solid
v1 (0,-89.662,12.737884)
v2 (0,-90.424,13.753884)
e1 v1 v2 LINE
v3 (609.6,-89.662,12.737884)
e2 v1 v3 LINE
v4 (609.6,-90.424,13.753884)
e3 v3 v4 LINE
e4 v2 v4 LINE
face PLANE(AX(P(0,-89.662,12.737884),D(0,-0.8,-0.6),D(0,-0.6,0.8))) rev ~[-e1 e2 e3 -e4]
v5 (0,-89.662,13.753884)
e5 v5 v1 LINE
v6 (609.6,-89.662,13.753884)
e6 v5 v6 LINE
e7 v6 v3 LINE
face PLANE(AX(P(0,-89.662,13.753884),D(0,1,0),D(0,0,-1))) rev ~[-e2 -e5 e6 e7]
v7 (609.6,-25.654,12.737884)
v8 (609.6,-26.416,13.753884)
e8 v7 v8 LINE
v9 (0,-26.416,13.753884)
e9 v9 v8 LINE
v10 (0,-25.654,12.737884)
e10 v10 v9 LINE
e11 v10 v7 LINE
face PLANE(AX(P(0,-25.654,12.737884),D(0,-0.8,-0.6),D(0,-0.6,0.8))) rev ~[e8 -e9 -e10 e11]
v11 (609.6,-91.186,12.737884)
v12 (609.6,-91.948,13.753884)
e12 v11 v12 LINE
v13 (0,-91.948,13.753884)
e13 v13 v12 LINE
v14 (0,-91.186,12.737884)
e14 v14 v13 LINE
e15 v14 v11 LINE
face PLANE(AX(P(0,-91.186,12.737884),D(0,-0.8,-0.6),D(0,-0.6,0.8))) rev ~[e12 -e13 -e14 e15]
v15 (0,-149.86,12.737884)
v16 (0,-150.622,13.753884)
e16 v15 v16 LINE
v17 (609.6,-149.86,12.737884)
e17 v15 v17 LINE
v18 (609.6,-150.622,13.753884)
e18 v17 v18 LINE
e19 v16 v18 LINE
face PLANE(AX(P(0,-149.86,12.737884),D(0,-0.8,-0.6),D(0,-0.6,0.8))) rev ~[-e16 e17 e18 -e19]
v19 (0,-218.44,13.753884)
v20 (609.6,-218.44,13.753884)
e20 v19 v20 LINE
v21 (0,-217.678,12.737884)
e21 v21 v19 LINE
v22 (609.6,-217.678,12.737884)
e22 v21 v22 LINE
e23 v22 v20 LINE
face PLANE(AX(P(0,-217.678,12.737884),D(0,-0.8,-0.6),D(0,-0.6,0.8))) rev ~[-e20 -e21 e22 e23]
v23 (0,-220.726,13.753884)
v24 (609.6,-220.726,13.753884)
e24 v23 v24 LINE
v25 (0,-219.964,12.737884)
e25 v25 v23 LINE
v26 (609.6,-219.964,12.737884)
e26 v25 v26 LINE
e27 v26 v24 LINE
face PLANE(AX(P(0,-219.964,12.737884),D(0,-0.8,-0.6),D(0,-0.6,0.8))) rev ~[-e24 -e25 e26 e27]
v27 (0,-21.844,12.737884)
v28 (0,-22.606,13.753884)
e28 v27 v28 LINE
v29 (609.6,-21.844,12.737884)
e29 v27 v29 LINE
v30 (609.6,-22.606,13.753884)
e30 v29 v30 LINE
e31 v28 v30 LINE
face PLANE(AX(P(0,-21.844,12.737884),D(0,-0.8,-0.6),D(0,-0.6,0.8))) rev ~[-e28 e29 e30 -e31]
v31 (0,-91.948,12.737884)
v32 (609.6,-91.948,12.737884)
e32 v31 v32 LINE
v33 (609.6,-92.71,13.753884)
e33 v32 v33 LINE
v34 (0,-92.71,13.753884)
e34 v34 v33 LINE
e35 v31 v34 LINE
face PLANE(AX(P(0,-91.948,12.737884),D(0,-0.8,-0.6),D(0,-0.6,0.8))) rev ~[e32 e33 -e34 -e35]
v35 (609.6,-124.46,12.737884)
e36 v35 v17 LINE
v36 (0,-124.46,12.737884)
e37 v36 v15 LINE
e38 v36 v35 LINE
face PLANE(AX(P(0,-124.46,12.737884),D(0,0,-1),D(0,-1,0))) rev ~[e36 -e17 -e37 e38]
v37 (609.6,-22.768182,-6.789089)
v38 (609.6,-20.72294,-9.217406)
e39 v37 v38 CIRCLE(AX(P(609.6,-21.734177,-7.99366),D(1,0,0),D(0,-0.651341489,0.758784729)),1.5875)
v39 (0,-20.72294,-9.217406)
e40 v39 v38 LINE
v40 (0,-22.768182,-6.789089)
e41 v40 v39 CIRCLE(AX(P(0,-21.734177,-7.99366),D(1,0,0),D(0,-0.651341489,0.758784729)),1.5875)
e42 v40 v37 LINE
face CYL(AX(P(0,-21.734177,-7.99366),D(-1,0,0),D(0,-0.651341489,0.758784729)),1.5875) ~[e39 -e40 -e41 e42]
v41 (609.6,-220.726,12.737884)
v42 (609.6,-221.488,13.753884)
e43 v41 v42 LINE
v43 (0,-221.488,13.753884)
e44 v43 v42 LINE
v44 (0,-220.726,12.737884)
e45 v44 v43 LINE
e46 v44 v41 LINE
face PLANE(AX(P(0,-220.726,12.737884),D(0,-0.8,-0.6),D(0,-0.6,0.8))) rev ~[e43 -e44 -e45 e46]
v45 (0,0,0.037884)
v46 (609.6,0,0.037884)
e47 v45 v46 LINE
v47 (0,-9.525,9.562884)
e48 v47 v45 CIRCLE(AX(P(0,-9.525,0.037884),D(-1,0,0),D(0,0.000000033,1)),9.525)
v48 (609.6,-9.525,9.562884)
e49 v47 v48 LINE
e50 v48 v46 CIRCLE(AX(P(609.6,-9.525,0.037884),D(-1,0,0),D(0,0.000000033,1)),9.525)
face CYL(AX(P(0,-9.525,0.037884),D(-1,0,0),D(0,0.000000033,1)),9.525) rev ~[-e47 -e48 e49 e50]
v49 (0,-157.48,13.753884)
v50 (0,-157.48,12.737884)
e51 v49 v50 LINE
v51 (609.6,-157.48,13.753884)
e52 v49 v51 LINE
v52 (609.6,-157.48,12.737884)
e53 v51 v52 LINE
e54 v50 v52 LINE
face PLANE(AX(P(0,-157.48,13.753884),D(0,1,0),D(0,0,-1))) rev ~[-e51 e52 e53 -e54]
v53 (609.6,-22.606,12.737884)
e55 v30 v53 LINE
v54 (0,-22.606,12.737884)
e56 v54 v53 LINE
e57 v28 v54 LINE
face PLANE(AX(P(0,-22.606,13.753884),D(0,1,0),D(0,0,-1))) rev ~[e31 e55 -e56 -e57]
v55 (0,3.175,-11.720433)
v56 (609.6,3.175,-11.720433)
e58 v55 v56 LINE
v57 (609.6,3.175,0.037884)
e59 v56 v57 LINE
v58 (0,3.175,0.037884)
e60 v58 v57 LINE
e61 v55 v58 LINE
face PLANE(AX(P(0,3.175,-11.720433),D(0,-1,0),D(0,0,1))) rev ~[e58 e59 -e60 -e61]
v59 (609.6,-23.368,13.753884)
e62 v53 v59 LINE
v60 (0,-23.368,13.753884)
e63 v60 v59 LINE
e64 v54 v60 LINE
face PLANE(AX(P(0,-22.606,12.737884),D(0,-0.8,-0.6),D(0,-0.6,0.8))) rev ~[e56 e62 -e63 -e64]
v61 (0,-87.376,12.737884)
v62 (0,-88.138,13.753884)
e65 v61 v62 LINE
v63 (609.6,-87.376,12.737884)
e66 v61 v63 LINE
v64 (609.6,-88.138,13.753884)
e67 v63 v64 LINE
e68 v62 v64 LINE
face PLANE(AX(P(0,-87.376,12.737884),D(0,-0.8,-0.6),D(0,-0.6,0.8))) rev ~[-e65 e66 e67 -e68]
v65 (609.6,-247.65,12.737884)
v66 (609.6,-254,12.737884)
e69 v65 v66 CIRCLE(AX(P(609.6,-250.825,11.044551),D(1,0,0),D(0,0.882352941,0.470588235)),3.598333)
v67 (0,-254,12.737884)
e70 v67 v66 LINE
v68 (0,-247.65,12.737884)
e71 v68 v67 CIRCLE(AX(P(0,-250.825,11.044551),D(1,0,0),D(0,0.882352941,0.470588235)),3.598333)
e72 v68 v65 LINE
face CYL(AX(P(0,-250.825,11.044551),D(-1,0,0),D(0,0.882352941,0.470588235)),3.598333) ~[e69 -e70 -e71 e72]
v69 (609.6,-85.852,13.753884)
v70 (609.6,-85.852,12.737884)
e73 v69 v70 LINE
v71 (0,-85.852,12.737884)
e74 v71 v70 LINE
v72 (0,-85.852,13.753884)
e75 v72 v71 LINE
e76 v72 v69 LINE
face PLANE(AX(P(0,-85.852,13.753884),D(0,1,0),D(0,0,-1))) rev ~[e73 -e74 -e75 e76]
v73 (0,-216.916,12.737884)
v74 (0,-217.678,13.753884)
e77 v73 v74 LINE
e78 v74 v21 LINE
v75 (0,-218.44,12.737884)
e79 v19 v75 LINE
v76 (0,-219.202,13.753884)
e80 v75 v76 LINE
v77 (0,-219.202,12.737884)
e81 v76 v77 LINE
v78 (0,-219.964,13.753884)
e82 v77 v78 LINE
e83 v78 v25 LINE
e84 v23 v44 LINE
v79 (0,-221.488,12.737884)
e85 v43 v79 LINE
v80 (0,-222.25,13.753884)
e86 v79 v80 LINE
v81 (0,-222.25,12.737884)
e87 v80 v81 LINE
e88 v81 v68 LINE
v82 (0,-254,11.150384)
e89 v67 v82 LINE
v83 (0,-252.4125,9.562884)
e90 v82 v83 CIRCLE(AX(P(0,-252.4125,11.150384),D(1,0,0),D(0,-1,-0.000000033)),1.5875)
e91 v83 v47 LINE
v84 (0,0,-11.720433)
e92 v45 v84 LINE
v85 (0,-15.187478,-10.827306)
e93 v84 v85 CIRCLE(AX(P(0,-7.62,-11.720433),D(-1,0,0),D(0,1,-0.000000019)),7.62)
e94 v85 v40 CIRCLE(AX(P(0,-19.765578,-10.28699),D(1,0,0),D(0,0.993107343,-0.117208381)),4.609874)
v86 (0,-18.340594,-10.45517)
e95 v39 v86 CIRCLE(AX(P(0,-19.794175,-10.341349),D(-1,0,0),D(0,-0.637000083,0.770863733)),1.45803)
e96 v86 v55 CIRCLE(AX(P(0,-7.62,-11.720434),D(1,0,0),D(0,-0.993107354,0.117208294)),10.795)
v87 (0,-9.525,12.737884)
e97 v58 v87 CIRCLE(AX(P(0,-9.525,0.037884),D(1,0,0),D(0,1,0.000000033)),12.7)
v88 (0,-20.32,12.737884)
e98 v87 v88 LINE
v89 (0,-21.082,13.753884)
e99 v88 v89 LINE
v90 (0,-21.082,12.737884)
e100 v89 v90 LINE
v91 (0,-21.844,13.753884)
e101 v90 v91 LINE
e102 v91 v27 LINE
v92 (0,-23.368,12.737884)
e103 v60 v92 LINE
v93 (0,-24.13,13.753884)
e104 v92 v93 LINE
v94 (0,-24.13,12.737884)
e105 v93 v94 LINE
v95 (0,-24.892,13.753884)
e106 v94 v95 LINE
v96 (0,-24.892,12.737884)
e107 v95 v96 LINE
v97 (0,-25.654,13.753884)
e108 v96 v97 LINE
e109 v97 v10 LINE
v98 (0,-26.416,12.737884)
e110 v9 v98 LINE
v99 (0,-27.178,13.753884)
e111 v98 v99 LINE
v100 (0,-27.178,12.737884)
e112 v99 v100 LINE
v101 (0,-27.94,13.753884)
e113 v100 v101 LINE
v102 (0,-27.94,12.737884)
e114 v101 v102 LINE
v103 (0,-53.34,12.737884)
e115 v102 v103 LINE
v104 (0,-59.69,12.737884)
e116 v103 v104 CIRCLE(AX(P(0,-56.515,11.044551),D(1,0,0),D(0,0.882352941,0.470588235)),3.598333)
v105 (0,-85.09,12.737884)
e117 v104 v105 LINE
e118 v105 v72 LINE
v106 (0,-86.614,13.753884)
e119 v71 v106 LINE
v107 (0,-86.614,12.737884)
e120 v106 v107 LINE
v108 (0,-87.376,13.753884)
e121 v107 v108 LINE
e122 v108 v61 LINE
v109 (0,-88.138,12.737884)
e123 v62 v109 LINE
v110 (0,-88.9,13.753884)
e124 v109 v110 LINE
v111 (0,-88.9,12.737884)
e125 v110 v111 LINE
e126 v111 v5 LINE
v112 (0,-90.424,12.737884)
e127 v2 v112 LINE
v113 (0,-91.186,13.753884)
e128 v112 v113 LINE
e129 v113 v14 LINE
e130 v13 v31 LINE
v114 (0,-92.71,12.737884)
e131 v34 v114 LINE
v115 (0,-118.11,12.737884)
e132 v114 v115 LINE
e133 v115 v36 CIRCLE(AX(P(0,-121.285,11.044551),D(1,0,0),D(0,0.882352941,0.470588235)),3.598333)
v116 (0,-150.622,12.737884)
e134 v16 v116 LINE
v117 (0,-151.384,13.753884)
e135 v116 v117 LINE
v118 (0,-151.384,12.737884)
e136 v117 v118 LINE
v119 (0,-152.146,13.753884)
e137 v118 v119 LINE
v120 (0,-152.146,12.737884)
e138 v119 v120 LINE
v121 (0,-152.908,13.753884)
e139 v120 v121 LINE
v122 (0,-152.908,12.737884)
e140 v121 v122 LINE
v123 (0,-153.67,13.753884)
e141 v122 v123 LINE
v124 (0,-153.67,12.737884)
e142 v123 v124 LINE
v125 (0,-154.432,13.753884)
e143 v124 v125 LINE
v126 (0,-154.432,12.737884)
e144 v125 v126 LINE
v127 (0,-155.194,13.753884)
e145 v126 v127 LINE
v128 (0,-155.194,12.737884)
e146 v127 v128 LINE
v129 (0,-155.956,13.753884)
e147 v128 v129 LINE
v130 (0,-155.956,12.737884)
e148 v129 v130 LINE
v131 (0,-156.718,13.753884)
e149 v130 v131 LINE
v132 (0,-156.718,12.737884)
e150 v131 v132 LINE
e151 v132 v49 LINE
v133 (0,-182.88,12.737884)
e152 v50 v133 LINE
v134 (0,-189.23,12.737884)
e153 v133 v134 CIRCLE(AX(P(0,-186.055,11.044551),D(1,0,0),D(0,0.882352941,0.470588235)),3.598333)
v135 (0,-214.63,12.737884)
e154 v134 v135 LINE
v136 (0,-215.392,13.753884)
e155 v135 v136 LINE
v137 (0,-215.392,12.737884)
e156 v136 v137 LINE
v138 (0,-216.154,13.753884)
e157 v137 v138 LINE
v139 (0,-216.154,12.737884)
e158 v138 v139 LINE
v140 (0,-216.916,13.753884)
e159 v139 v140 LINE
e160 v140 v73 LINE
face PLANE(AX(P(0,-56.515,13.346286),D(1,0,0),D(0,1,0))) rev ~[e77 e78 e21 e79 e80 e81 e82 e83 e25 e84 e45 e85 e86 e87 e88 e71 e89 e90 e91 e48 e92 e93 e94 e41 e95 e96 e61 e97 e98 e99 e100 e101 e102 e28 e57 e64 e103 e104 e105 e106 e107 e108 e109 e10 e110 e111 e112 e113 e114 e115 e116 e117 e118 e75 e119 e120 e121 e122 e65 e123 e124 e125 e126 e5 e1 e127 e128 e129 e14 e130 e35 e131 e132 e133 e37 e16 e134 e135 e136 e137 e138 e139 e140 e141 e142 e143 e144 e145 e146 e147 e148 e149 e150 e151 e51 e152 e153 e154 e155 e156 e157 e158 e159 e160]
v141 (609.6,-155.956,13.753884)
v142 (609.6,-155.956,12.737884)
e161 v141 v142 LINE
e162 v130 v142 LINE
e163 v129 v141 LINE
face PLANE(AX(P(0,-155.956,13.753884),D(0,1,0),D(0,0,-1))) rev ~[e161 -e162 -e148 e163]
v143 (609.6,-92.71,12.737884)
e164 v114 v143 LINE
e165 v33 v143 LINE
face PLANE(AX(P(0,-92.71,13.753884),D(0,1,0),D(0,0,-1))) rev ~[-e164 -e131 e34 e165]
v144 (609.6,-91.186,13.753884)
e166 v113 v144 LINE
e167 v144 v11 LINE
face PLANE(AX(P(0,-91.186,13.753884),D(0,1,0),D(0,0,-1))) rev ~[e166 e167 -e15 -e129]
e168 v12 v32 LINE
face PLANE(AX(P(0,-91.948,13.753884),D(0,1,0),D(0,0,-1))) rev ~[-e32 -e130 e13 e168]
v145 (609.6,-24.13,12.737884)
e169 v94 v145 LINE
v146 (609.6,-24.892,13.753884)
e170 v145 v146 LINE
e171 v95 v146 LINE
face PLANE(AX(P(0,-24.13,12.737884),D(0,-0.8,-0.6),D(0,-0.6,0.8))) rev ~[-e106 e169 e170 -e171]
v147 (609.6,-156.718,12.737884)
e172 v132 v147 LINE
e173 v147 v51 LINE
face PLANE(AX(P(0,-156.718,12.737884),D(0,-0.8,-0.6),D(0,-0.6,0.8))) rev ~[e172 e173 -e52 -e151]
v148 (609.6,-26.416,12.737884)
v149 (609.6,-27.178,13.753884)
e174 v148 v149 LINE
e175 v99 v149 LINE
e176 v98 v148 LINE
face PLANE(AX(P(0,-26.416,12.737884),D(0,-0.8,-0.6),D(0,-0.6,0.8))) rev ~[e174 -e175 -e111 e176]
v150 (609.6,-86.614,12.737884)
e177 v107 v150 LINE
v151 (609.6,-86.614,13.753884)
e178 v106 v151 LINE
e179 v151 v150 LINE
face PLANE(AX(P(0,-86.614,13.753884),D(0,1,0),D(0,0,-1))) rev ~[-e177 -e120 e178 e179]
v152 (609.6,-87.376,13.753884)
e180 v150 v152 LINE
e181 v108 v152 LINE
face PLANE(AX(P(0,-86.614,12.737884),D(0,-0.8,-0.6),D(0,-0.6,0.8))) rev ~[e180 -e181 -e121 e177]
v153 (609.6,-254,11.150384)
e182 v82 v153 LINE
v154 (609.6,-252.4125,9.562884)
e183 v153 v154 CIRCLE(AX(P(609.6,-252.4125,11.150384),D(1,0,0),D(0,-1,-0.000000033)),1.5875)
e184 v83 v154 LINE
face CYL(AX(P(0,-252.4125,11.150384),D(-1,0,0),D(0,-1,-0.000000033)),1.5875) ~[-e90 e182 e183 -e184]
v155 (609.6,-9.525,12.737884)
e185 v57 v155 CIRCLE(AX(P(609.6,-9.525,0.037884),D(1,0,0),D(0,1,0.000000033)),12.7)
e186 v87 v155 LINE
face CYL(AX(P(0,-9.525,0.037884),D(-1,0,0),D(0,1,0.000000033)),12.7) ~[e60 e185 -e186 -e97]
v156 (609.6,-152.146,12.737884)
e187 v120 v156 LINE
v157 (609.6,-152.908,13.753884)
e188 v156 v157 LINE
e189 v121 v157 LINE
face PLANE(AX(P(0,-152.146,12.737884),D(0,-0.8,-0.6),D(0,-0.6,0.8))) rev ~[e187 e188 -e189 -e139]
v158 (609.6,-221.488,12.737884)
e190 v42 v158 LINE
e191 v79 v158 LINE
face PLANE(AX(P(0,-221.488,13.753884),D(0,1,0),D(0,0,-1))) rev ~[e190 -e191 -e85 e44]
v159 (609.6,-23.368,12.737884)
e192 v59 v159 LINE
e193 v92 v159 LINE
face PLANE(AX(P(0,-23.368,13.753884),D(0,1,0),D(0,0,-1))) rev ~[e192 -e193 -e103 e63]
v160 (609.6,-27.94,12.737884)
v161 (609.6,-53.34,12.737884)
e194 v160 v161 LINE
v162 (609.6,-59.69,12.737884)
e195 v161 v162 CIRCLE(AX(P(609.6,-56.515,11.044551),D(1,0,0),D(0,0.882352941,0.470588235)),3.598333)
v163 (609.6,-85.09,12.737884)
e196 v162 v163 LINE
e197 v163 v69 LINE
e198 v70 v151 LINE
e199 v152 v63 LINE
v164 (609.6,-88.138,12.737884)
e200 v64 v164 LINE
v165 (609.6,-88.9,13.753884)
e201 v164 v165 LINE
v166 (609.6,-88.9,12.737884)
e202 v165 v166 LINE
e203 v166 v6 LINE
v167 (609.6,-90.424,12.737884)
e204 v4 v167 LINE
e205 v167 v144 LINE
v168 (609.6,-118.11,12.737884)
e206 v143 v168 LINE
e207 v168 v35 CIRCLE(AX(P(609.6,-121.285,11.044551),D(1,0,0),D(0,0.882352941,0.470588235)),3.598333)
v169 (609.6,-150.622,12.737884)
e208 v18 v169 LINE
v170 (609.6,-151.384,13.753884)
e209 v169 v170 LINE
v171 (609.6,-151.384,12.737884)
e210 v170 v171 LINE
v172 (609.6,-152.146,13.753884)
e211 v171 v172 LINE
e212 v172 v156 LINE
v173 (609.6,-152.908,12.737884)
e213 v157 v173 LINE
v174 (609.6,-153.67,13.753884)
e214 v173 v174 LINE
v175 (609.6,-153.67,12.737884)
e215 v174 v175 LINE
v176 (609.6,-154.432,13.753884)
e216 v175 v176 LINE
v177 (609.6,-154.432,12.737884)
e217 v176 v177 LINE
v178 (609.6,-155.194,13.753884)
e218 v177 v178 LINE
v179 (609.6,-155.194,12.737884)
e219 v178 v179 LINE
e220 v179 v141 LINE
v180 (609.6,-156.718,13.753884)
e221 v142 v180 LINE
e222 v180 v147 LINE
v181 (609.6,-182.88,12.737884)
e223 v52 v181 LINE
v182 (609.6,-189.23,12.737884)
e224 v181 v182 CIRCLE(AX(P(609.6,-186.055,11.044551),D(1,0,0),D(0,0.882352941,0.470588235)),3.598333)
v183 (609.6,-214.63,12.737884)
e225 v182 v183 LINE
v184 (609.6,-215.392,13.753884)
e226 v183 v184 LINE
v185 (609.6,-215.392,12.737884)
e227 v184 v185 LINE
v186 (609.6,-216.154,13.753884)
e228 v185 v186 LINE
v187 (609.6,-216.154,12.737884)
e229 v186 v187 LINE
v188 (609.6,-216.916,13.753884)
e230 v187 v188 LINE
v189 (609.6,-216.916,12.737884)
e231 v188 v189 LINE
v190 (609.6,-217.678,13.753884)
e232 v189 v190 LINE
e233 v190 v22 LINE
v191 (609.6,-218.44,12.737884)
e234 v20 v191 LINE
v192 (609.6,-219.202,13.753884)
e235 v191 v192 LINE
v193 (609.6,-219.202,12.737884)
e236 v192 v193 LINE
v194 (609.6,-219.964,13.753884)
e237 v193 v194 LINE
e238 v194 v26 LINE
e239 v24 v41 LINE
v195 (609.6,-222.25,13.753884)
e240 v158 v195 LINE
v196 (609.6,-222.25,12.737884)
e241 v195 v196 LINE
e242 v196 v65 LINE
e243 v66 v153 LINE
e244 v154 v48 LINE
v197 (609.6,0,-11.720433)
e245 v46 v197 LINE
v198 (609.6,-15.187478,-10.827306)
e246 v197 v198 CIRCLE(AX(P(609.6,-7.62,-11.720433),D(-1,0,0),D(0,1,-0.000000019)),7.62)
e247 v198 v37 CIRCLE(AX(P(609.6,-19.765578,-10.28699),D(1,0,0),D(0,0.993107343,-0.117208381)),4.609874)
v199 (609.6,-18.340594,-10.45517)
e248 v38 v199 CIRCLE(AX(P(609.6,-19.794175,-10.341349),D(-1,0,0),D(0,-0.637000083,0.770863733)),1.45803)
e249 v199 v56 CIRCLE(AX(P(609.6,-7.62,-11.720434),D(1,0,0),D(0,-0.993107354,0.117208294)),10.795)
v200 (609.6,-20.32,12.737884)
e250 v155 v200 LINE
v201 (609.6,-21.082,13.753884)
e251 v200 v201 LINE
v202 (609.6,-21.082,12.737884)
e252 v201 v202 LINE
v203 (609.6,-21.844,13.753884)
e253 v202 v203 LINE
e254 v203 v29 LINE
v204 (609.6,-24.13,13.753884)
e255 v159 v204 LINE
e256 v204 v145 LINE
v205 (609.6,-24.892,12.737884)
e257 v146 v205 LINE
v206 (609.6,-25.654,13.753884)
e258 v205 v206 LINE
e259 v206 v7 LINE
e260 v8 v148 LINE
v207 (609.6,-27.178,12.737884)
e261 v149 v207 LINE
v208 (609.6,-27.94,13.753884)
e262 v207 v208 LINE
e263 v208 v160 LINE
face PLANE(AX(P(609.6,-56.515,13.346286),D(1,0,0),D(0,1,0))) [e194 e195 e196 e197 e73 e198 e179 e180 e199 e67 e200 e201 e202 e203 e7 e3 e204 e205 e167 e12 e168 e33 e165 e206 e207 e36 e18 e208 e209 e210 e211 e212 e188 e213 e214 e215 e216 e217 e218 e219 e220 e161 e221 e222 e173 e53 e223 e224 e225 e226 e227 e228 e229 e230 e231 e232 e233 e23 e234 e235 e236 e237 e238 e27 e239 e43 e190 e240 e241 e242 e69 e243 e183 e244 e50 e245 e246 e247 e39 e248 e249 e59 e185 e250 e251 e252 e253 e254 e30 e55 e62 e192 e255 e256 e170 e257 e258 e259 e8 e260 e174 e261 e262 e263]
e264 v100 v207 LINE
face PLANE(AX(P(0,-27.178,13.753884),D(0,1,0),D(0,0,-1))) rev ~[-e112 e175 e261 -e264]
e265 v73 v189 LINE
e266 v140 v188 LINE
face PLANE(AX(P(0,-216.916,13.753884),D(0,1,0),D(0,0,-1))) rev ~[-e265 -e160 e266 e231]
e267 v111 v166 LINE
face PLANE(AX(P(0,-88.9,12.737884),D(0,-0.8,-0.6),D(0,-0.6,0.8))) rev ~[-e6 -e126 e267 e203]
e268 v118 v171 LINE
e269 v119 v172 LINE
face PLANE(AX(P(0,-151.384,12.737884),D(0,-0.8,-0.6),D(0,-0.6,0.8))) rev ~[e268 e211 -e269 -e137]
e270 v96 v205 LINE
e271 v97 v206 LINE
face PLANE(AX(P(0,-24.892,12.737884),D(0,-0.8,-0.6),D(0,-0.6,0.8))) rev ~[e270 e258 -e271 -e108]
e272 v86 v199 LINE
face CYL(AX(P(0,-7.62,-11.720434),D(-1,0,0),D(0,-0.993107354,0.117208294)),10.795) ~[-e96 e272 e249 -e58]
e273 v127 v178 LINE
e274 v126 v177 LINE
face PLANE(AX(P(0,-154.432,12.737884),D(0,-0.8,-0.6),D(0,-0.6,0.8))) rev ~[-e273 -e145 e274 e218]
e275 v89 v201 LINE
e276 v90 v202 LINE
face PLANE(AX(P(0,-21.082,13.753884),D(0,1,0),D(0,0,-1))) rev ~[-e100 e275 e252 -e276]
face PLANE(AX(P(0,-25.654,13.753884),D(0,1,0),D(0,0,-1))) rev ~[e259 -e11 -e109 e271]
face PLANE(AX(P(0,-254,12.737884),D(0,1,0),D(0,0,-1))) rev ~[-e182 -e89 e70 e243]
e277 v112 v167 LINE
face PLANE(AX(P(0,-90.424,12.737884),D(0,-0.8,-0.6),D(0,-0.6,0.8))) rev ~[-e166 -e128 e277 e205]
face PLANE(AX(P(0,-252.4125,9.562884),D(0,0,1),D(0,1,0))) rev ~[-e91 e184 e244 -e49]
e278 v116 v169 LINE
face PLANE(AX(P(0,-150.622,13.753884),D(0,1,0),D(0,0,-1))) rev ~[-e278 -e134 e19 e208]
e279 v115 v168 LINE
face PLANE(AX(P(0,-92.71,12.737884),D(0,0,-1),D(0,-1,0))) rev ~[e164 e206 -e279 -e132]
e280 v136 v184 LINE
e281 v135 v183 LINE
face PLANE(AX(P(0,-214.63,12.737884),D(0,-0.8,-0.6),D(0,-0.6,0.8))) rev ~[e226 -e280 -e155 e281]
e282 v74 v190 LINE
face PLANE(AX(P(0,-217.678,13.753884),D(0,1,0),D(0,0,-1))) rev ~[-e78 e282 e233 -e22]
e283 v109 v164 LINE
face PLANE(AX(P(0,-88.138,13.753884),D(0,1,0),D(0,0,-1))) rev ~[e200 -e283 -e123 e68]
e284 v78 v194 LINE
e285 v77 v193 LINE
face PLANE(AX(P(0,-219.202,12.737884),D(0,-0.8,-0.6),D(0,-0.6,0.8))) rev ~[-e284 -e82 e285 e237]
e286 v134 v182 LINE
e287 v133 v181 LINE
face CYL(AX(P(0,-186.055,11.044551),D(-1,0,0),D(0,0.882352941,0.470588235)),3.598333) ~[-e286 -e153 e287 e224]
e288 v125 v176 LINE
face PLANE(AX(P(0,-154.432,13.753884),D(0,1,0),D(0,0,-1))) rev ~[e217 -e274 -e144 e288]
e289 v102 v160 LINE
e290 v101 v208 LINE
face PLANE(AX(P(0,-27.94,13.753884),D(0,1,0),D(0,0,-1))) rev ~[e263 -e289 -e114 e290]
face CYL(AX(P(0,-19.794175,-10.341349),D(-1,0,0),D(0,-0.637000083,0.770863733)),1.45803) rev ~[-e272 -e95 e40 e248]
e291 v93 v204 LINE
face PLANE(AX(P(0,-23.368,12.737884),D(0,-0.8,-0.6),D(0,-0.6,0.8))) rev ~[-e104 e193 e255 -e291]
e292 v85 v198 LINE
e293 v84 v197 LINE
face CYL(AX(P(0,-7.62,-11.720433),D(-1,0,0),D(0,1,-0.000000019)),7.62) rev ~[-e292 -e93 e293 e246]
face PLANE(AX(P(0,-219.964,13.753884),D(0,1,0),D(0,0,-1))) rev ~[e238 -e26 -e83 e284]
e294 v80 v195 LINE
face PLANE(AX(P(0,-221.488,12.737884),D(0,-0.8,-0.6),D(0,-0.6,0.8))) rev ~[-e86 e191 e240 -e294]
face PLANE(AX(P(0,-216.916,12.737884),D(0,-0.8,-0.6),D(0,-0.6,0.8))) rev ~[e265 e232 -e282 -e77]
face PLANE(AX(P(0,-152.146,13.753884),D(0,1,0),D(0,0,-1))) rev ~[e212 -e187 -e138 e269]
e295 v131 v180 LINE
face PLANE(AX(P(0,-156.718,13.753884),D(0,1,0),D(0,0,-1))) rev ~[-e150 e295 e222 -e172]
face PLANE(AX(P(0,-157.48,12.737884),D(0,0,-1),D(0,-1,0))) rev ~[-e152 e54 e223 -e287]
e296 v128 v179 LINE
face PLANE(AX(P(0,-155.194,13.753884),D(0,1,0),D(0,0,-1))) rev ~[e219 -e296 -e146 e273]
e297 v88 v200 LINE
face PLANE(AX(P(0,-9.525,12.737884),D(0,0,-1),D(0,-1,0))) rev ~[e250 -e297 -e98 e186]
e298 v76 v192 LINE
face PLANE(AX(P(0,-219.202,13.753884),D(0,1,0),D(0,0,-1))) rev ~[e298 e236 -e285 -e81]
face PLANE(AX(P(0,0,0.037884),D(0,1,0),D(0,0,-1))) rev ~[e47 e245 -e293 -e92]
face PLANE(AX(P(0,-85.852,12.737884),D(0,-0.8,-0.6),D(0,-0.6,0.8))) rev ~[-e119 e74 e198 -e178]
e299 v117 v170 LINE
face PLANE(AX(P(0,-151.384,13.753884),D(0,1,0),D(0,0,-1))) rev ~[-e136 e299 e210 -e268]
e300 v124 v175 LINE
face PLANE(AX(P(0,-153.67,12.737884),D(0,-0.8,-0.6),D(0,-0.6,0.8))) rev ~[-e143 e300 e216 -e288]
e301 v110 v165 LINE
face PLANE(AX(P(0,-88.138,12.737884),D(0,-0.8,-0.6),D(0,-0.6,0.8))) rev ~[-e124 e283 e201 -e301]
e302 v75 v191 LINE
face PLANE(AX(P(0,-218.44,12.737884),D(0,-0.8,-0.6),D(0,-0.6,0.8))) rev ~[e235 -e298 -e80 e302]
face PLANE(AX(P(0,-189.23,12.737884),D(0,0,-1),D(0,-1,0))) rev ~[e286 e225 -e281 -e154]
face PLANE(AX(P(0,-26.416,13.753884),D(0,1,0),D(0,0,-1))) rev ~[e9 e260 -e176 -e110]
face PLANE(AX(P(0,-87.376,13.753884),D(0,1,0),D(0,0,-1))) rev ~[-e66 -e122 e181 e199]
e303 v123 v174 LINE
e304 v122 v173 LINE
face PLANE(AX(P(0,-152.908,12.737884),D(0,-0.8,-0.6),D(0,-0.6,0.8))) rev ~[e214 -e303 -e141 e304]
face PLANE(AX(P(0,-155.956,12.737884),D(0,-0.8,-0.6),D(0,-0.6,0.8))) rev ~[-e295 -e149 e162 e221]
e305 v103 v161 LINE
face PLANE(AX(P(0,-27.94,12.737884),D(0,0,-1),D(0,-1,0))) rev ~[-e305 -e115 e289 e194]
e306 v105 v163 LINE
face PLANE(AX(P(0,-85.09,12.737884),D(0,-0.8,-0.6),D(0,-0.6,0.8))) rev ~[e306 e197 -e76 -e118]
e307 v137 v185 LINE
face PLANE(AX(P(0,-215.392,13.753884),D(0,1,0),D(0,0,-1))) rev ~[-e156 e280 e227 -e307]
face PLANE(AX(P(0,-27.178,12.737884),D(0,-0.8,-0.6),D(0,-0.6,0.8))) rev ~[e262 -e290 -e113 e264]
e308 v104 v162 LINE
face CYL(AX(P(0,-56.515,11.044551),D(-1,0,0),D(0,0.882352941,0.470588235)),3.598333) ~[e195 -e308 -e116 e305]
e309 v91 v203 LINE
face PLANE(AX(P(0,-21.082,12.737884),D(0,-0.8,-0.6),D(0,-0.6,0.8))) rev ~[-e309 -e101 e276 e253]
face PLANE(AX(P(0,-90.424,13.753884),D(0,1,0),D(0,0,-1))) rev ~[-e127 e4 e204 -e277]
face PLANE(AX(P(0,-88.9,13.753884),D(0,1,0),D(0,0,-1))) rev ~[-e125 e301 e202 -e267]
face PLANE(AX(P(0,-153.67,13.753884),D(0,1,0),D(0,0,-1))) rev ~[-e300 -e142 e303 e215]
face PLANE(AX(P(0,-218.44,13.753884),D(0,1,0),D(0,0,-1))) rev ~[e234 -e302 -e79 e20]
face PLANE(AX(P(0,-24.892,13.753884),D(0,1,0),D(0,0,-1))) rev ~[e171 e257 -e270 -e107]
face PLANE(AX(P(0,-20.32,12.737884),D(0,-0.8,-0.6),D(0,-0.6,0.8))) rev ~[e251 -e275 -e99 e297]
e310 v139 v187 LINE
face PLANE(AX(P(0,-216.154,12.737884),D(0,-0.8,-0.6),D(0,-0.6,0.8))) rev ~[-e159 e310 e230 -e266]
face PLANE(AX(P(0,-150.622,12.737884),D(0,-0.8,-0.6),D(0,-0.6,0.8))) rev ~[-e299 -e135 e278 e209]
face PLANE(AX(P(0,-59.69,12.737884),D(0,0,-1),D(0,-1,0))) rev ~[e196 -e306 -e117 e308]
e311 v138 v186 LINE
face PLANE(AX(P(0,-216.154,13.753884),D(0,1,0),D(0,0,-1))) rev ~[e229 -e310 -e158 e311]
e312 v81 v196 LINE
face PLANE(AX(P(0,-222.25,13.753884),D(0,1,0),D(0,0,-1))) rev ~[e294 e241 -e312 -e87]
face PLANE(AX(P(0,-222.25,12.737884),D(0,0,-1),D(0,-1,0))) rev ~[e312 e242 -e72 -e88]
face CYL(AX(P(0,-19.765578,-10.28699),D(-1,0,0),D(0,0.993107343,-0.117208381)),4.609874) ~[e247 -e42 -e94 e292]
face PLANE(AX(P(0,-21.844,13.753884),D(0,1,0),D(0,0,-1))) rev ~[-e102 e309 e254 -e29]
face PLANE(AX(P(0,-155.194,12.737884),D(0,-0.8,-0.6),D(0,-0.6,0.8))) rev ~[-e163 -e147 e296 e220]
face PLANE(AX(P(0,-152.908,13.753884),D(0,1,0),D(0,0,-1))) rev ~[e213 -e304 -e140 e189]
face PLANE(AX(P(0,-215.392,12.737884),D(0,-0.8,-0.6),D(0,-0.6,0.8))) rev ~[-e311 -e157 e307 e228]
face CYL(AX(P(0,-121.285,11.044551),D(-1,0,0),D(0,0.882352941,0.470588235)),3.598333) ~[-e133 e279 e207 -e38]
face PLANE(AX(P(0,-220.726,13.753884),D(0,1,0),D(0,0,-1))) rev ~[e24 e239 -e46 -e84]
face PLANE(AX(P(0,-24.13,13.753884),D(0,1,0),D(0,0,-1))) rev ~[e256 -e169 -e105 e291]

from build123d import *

# Parameters (mm, degrees)
F1_DEPTH = 609.6


with BuildPart() as f1:
    # F0 (on Right) → F1 (new body)
    with BuildSketch(Plane.YZ):
        with BuildLine():
            Line((-59.69, 12.737884), (-53.34, 12.737884))
            ThreePointArc((-53.34, 12.737884), (-56.515, 14.642884), (-59.69, 12.737884))
        make_face()
        with BuildLine():
            ThreePointArc((-118.11, 12.737884), (-121.285, 14.642884), (-124.46, 12.737884))
            Line((-124.46, 12.737884), (-118.11, 12.737884))
        make_face()
        with BuildLine():
            Line((-252.4125, 9.562884), (-9.525, 9.562884))
            ThreePointArc((-9.525, 9.562884), (-2.789808, 6.773076), (0, 0.037884))
            Line((0, 0.037884), (0, -11.720433))
            ThreePointArc((0, -11.720433), (-8.067335, -19.327291), (-15.187478, -10.827306))
            ThreePointArc((-15.187478, -10.827306), (-17.598242, -6.218379), (-22.768182, -6.789089))
            ThreePointArc((-22.768182, -6.789089), (-22.948389, -9.016326), (-20.72294, -9.217406))
            ThreePointArc((-20.72294, -9.217406), (-19.12196, -9.047525), (-18.340594, -10.45517))
            ThreePointArc((-18.340594, -10.45517), (-8.253725, -22.496816), (3.175, -11.720433))
            Line((3.175, -11.720433), (3.175, 0.037884))
            ThreePointArc((3.175, 0.037884), (-0.544744, 9.01814), (-9.525, 12.737884))
            Line((-9.525, 12.737884), (-20.32, 12.737884))
            Line((-20.32, 12.737884), (-21.082, 12.737884))
            Line((-21.082, 12.737884), (-21.844, 12.737884))
            Line((-21.844, 12.737884), (-22.606, 12.737884))
            Line((-22.606, 12.737884), (-23.368, 12.737884))
            Line((-23.368, 12.737884), (-24.13, 12.737884))
            Line((-24.13, 12.737884), (-24.892, 12.737884))
            Line((-24.892, 12.737884), (-25.654, 12.737884))
            Line((-25.654, 12.737884), (-26.416, 12.737884))
            Line((-26.416, 12.737884), (-27.178, 12.737884))
            Line((-27.178, 12.737884), (-27.94, 12.737884))
            Line((-27.94, 12.737884), (-53.34, 12.737884))
            Line((-53.34, 12.737884), (-59.69, 12.737884))
            Line((-59.69, 12.737884), (-85.09, 12.737884))
            Line((-85.09, 12.737884), (-85.852, 12.737884))
            Line((-85.852, 12.737884), (-86.614, 12.737884))
            Line((-86.614, 12.737884), (-87.376, 12.737884))
            Line((-87.376, 12.737884), (-88.138, 12.737884))
            Line((-88.138, 12.737884), (-88.9, 12.737884))
            Line((-88.9, 12.737884), (-89.662, 12.737884))
            Line((-89.662, 12.737884), (-90.424, 12.737884))
            Line((-90.424, 12.737884), (-91.186, 12.737884))
            Line((-91.186, 12.737884), (-91.948, 12.737884))
            Line((-91.948, 12.737884), (-92.71, 12.737884))
            Line((-92.71, 12.737884), (-118.11, 12.737884))
            Line((-118.11, 12.737884), (-124.46, 12.737884))
            Line((-124.46, 12.737884), (-149.86, 12.737884))
            Line((-149.86, 12.737884), (-150.622, 12.737884))
            Line((-150.622, 12.737884), (-151.384, 12.737884))
            Line((-151.384, 12.737884), (-152.146, 12.737884))
            Line((-152.146, 12.737884), (-152.908, 12.737884))
            Line((-152.908, 12.737884), (-153.67, 12.737884))
            Line((-153.67, 12.737884), (-154.432, 12.737884))
            Line((-154.432, 12.737884), (-155.194, 12.737884))
            Line((-155.194, 12.737884), (-155.956, 12.737884))
            Line((-155.956, 12.737884), (-156.718, 12.737884))
            Line((-156.718, 12.737884), (-157.48, 12.737884))
            Line((-157.48, 12.737884), (-182.88, 12.737884))
            Line((-182.88, 12.737884), (-189.23, 12.737884))
            Line((-189.23, 12.737884), (-214.63, 12.737884))
            Line((-214.63, 12.737884), (-215.392, 12.737884))
            Line((-215.392, 12.737884), (-216.154, 12.737884))
            Line((-216.154, 12.737884), (-216.916, 12.737884))
            Line((-216.916, 12.737884), (-217.678, 12.737884))
            Line((-217.678, 12.737884), (-218.44, 12.737884))
            Line((-218.44, 12.737884), (-219.202, 12.737884))
            Line((-219.202, 12.737884), (-219.964, 12.737884))
            Line((-219.964, 12.737884), (-220.726, 12.737884))
            Line((-220.726, 12.737884), (-221.488, 12.737884))
            Line((-221.488, 12.737884), (-222.25, 12.737884))
            Line((-222.25, 12.737884), (-247.65, 12.737884))
            Line((-247.65, 12.737884), (-254, 12.737884))
            Line((-254, 12.737884), (-254, 11.150384))
            ThreePointArc((-254, 11.150384), (-253.535032, 10.027852), (-252.4125, 9.562884))
        make_face()
        with BuildLine():
            ThreePointArc((-247.65, 12.737884), (-250.825, 14.642884), (-254, 12.737884))
            Line((-254, 12.737884), (-247.65, 12.737884))
        make_face()
        with BuildLine():
            ThreePointArc((-182.88, 12.737884), (-186.055, 14.642884), (-189.23, 12.737884))
            Line((-189.23, 12.737884), (-182.88, 12.737884))
        make_face()
        Polygon((-85.852, 12.737884), (-85.09, 12.737884), (-85.852, 13.753884), align=None)
        Polygon((-21.082, 12.737884), (-20.32, 12.737884), (-21.082, 13.753884), align=None)
        Polygon((-222.25, 13.753884), (-222.25, 12.737884), (-221.488, 12.737884), align=None)
        Polygon((-21.844, 12.737884), (-21.082, 12.737884), (-21.844, 13.753884), align=None)
        Polygon((-150.622, 13.753884), (-150.622, 12.737884), (-149.86, 12.737884), align=None)
        Polygon((-151.384, 13.753884), (-151.384, 12.737884), (-150.622, 12.737884), align=None)
        Polygon((-221.488, 13.753884), (-221.488, 12.737884), (-220.726, 12.737884), align=None)
        Polygon((-86.614, 12.737884), (-85.852, 12.737884), (-86.614, 13.753884), align=None)
        Polygon((-26.416, 12.737884), (-25.654, 12.737884), (-26.416, 13.753884), align=None)
        Polygon((-27.178, 12.737884), (-26.416, 12.737884), (-27.178, 13.753884), align=None)
        Polygon((-152.908, 13.753884), (-152.908, 12.737884), (-152.146, 12.737884), align=None)
        Polygon((-157.48, 13.753884), (-157.48, 12.737884), (-156.718, 12.737884), align=None)
        Polygon((-215.392, 13.753884), (-215.392, 12.737884), (-214.63, 12.737884), align=None)
        Polygon((-92.71, 13.753884), (-92.71, 12.737884), (-91.948, 12.737884), align=None)
        Polygon((-89.662, 12.737884), (-88.9, 12.737884), (-89.662, 13.753884), align=None)
        Polygon((-155.194, 13.753884), (-155.194, 12.737884), (-154.432, 12.737884), align=None)
        Polygon((-153.67, 13.753884), (-153.67, 12.737884), (-152.908, 12.737884), align=None)
        Polygon((-91.948, 12.737884), (-91.186, 12.737884), (-91.948, 13.753884), align=None)
        Polygon((-87.376, 12.737884), (-86.614, 12.737884), (-87.376, 13.753884), align=None)
        Polygon((-24.13, 12.737884), (-23.368, 12.737884), (-24.13, 13.753884), align=None)
        Polygon((-27.94, 12.737884), (-27.178, 12.737884), (-27.94, 13.753884), align=None)
        Polygon((-90.424, 12.737884), (-89.662, 12.737884), (-90.424, 13.753884), align=None)
        Polygon((-23.368, 12.737884), (-22.606, 12.737884), (-23.368, 13.753884), align=None)
        Polygon((-218.44, 13.753884), (-218.44, 12.737884), (-217.678, 12.737884), align=None)
        Polygon((-219.202, 13.753884), (-219.202, 12.737884), (-218.44, 12.737884), align=None)
        Polygon((-216.154, 13.753884), (-216.154, 12.737884), (-215.392, 12.737884), align=None)
        Polygon((-155.956, 13.753884), (-155.956, 12.737884), (-155.194, 12.737884), align=None)
        Polygon((-219.964, 13.753884), (-219.964, 12.737884), (-219.202, 12.737884), align=None)
        Polygon((-88.138, 12.737884), (-87.376, 12.737884), (-88.138, 13.753884), align=None)
        Polygon((-88.9, 12.737884), (-88.138, 12.737884), (-88.9, 13.753884), align=None)
        Polygon((-24.892, 12.737884), (-24.13, 12.737884), (-24.892, 13.753884), align=None)
        Polygon((-152.146, 13.753884), (-152.146, 12.737884), (-151.384, 12.737884), align=None)
        Polygon((-220.726, 13.753884), (-220.726, 12.737884), (-219.964, 12.737884), align=None)
        Polygon((-216.916, 13.753884), (-216.916, 12.737884), (-216.154, 12.737884), align=None)
        Polygon((-156.718, 13.753884), (-156.718, 12.737884), (-155.956, 12.737884), align=None)
        Polygon((-154.432, 13.753884), (-154.432, 12.737884), (-153.67, 12.737884), align=None)
        Polygon((-217.678, 13.753884), (-217.678, 12.737884), (-216.916, 12.737884), align=None)
        Polygon((-25.654, 12.737884), (-24.892, 12.737884), (-25.654, 13.753884), align=None)
        Polygon((-22.606, 12.737884), (-21.844, 12.737884), (-22.606, 13.753884), align=None)
        Polygon((-91.186, 12.737884), (-90.424, 12.737884), (-91.186, 13.753884), align=None)
    extrude(amount=F1_DEPTH)


solid = f1.part
